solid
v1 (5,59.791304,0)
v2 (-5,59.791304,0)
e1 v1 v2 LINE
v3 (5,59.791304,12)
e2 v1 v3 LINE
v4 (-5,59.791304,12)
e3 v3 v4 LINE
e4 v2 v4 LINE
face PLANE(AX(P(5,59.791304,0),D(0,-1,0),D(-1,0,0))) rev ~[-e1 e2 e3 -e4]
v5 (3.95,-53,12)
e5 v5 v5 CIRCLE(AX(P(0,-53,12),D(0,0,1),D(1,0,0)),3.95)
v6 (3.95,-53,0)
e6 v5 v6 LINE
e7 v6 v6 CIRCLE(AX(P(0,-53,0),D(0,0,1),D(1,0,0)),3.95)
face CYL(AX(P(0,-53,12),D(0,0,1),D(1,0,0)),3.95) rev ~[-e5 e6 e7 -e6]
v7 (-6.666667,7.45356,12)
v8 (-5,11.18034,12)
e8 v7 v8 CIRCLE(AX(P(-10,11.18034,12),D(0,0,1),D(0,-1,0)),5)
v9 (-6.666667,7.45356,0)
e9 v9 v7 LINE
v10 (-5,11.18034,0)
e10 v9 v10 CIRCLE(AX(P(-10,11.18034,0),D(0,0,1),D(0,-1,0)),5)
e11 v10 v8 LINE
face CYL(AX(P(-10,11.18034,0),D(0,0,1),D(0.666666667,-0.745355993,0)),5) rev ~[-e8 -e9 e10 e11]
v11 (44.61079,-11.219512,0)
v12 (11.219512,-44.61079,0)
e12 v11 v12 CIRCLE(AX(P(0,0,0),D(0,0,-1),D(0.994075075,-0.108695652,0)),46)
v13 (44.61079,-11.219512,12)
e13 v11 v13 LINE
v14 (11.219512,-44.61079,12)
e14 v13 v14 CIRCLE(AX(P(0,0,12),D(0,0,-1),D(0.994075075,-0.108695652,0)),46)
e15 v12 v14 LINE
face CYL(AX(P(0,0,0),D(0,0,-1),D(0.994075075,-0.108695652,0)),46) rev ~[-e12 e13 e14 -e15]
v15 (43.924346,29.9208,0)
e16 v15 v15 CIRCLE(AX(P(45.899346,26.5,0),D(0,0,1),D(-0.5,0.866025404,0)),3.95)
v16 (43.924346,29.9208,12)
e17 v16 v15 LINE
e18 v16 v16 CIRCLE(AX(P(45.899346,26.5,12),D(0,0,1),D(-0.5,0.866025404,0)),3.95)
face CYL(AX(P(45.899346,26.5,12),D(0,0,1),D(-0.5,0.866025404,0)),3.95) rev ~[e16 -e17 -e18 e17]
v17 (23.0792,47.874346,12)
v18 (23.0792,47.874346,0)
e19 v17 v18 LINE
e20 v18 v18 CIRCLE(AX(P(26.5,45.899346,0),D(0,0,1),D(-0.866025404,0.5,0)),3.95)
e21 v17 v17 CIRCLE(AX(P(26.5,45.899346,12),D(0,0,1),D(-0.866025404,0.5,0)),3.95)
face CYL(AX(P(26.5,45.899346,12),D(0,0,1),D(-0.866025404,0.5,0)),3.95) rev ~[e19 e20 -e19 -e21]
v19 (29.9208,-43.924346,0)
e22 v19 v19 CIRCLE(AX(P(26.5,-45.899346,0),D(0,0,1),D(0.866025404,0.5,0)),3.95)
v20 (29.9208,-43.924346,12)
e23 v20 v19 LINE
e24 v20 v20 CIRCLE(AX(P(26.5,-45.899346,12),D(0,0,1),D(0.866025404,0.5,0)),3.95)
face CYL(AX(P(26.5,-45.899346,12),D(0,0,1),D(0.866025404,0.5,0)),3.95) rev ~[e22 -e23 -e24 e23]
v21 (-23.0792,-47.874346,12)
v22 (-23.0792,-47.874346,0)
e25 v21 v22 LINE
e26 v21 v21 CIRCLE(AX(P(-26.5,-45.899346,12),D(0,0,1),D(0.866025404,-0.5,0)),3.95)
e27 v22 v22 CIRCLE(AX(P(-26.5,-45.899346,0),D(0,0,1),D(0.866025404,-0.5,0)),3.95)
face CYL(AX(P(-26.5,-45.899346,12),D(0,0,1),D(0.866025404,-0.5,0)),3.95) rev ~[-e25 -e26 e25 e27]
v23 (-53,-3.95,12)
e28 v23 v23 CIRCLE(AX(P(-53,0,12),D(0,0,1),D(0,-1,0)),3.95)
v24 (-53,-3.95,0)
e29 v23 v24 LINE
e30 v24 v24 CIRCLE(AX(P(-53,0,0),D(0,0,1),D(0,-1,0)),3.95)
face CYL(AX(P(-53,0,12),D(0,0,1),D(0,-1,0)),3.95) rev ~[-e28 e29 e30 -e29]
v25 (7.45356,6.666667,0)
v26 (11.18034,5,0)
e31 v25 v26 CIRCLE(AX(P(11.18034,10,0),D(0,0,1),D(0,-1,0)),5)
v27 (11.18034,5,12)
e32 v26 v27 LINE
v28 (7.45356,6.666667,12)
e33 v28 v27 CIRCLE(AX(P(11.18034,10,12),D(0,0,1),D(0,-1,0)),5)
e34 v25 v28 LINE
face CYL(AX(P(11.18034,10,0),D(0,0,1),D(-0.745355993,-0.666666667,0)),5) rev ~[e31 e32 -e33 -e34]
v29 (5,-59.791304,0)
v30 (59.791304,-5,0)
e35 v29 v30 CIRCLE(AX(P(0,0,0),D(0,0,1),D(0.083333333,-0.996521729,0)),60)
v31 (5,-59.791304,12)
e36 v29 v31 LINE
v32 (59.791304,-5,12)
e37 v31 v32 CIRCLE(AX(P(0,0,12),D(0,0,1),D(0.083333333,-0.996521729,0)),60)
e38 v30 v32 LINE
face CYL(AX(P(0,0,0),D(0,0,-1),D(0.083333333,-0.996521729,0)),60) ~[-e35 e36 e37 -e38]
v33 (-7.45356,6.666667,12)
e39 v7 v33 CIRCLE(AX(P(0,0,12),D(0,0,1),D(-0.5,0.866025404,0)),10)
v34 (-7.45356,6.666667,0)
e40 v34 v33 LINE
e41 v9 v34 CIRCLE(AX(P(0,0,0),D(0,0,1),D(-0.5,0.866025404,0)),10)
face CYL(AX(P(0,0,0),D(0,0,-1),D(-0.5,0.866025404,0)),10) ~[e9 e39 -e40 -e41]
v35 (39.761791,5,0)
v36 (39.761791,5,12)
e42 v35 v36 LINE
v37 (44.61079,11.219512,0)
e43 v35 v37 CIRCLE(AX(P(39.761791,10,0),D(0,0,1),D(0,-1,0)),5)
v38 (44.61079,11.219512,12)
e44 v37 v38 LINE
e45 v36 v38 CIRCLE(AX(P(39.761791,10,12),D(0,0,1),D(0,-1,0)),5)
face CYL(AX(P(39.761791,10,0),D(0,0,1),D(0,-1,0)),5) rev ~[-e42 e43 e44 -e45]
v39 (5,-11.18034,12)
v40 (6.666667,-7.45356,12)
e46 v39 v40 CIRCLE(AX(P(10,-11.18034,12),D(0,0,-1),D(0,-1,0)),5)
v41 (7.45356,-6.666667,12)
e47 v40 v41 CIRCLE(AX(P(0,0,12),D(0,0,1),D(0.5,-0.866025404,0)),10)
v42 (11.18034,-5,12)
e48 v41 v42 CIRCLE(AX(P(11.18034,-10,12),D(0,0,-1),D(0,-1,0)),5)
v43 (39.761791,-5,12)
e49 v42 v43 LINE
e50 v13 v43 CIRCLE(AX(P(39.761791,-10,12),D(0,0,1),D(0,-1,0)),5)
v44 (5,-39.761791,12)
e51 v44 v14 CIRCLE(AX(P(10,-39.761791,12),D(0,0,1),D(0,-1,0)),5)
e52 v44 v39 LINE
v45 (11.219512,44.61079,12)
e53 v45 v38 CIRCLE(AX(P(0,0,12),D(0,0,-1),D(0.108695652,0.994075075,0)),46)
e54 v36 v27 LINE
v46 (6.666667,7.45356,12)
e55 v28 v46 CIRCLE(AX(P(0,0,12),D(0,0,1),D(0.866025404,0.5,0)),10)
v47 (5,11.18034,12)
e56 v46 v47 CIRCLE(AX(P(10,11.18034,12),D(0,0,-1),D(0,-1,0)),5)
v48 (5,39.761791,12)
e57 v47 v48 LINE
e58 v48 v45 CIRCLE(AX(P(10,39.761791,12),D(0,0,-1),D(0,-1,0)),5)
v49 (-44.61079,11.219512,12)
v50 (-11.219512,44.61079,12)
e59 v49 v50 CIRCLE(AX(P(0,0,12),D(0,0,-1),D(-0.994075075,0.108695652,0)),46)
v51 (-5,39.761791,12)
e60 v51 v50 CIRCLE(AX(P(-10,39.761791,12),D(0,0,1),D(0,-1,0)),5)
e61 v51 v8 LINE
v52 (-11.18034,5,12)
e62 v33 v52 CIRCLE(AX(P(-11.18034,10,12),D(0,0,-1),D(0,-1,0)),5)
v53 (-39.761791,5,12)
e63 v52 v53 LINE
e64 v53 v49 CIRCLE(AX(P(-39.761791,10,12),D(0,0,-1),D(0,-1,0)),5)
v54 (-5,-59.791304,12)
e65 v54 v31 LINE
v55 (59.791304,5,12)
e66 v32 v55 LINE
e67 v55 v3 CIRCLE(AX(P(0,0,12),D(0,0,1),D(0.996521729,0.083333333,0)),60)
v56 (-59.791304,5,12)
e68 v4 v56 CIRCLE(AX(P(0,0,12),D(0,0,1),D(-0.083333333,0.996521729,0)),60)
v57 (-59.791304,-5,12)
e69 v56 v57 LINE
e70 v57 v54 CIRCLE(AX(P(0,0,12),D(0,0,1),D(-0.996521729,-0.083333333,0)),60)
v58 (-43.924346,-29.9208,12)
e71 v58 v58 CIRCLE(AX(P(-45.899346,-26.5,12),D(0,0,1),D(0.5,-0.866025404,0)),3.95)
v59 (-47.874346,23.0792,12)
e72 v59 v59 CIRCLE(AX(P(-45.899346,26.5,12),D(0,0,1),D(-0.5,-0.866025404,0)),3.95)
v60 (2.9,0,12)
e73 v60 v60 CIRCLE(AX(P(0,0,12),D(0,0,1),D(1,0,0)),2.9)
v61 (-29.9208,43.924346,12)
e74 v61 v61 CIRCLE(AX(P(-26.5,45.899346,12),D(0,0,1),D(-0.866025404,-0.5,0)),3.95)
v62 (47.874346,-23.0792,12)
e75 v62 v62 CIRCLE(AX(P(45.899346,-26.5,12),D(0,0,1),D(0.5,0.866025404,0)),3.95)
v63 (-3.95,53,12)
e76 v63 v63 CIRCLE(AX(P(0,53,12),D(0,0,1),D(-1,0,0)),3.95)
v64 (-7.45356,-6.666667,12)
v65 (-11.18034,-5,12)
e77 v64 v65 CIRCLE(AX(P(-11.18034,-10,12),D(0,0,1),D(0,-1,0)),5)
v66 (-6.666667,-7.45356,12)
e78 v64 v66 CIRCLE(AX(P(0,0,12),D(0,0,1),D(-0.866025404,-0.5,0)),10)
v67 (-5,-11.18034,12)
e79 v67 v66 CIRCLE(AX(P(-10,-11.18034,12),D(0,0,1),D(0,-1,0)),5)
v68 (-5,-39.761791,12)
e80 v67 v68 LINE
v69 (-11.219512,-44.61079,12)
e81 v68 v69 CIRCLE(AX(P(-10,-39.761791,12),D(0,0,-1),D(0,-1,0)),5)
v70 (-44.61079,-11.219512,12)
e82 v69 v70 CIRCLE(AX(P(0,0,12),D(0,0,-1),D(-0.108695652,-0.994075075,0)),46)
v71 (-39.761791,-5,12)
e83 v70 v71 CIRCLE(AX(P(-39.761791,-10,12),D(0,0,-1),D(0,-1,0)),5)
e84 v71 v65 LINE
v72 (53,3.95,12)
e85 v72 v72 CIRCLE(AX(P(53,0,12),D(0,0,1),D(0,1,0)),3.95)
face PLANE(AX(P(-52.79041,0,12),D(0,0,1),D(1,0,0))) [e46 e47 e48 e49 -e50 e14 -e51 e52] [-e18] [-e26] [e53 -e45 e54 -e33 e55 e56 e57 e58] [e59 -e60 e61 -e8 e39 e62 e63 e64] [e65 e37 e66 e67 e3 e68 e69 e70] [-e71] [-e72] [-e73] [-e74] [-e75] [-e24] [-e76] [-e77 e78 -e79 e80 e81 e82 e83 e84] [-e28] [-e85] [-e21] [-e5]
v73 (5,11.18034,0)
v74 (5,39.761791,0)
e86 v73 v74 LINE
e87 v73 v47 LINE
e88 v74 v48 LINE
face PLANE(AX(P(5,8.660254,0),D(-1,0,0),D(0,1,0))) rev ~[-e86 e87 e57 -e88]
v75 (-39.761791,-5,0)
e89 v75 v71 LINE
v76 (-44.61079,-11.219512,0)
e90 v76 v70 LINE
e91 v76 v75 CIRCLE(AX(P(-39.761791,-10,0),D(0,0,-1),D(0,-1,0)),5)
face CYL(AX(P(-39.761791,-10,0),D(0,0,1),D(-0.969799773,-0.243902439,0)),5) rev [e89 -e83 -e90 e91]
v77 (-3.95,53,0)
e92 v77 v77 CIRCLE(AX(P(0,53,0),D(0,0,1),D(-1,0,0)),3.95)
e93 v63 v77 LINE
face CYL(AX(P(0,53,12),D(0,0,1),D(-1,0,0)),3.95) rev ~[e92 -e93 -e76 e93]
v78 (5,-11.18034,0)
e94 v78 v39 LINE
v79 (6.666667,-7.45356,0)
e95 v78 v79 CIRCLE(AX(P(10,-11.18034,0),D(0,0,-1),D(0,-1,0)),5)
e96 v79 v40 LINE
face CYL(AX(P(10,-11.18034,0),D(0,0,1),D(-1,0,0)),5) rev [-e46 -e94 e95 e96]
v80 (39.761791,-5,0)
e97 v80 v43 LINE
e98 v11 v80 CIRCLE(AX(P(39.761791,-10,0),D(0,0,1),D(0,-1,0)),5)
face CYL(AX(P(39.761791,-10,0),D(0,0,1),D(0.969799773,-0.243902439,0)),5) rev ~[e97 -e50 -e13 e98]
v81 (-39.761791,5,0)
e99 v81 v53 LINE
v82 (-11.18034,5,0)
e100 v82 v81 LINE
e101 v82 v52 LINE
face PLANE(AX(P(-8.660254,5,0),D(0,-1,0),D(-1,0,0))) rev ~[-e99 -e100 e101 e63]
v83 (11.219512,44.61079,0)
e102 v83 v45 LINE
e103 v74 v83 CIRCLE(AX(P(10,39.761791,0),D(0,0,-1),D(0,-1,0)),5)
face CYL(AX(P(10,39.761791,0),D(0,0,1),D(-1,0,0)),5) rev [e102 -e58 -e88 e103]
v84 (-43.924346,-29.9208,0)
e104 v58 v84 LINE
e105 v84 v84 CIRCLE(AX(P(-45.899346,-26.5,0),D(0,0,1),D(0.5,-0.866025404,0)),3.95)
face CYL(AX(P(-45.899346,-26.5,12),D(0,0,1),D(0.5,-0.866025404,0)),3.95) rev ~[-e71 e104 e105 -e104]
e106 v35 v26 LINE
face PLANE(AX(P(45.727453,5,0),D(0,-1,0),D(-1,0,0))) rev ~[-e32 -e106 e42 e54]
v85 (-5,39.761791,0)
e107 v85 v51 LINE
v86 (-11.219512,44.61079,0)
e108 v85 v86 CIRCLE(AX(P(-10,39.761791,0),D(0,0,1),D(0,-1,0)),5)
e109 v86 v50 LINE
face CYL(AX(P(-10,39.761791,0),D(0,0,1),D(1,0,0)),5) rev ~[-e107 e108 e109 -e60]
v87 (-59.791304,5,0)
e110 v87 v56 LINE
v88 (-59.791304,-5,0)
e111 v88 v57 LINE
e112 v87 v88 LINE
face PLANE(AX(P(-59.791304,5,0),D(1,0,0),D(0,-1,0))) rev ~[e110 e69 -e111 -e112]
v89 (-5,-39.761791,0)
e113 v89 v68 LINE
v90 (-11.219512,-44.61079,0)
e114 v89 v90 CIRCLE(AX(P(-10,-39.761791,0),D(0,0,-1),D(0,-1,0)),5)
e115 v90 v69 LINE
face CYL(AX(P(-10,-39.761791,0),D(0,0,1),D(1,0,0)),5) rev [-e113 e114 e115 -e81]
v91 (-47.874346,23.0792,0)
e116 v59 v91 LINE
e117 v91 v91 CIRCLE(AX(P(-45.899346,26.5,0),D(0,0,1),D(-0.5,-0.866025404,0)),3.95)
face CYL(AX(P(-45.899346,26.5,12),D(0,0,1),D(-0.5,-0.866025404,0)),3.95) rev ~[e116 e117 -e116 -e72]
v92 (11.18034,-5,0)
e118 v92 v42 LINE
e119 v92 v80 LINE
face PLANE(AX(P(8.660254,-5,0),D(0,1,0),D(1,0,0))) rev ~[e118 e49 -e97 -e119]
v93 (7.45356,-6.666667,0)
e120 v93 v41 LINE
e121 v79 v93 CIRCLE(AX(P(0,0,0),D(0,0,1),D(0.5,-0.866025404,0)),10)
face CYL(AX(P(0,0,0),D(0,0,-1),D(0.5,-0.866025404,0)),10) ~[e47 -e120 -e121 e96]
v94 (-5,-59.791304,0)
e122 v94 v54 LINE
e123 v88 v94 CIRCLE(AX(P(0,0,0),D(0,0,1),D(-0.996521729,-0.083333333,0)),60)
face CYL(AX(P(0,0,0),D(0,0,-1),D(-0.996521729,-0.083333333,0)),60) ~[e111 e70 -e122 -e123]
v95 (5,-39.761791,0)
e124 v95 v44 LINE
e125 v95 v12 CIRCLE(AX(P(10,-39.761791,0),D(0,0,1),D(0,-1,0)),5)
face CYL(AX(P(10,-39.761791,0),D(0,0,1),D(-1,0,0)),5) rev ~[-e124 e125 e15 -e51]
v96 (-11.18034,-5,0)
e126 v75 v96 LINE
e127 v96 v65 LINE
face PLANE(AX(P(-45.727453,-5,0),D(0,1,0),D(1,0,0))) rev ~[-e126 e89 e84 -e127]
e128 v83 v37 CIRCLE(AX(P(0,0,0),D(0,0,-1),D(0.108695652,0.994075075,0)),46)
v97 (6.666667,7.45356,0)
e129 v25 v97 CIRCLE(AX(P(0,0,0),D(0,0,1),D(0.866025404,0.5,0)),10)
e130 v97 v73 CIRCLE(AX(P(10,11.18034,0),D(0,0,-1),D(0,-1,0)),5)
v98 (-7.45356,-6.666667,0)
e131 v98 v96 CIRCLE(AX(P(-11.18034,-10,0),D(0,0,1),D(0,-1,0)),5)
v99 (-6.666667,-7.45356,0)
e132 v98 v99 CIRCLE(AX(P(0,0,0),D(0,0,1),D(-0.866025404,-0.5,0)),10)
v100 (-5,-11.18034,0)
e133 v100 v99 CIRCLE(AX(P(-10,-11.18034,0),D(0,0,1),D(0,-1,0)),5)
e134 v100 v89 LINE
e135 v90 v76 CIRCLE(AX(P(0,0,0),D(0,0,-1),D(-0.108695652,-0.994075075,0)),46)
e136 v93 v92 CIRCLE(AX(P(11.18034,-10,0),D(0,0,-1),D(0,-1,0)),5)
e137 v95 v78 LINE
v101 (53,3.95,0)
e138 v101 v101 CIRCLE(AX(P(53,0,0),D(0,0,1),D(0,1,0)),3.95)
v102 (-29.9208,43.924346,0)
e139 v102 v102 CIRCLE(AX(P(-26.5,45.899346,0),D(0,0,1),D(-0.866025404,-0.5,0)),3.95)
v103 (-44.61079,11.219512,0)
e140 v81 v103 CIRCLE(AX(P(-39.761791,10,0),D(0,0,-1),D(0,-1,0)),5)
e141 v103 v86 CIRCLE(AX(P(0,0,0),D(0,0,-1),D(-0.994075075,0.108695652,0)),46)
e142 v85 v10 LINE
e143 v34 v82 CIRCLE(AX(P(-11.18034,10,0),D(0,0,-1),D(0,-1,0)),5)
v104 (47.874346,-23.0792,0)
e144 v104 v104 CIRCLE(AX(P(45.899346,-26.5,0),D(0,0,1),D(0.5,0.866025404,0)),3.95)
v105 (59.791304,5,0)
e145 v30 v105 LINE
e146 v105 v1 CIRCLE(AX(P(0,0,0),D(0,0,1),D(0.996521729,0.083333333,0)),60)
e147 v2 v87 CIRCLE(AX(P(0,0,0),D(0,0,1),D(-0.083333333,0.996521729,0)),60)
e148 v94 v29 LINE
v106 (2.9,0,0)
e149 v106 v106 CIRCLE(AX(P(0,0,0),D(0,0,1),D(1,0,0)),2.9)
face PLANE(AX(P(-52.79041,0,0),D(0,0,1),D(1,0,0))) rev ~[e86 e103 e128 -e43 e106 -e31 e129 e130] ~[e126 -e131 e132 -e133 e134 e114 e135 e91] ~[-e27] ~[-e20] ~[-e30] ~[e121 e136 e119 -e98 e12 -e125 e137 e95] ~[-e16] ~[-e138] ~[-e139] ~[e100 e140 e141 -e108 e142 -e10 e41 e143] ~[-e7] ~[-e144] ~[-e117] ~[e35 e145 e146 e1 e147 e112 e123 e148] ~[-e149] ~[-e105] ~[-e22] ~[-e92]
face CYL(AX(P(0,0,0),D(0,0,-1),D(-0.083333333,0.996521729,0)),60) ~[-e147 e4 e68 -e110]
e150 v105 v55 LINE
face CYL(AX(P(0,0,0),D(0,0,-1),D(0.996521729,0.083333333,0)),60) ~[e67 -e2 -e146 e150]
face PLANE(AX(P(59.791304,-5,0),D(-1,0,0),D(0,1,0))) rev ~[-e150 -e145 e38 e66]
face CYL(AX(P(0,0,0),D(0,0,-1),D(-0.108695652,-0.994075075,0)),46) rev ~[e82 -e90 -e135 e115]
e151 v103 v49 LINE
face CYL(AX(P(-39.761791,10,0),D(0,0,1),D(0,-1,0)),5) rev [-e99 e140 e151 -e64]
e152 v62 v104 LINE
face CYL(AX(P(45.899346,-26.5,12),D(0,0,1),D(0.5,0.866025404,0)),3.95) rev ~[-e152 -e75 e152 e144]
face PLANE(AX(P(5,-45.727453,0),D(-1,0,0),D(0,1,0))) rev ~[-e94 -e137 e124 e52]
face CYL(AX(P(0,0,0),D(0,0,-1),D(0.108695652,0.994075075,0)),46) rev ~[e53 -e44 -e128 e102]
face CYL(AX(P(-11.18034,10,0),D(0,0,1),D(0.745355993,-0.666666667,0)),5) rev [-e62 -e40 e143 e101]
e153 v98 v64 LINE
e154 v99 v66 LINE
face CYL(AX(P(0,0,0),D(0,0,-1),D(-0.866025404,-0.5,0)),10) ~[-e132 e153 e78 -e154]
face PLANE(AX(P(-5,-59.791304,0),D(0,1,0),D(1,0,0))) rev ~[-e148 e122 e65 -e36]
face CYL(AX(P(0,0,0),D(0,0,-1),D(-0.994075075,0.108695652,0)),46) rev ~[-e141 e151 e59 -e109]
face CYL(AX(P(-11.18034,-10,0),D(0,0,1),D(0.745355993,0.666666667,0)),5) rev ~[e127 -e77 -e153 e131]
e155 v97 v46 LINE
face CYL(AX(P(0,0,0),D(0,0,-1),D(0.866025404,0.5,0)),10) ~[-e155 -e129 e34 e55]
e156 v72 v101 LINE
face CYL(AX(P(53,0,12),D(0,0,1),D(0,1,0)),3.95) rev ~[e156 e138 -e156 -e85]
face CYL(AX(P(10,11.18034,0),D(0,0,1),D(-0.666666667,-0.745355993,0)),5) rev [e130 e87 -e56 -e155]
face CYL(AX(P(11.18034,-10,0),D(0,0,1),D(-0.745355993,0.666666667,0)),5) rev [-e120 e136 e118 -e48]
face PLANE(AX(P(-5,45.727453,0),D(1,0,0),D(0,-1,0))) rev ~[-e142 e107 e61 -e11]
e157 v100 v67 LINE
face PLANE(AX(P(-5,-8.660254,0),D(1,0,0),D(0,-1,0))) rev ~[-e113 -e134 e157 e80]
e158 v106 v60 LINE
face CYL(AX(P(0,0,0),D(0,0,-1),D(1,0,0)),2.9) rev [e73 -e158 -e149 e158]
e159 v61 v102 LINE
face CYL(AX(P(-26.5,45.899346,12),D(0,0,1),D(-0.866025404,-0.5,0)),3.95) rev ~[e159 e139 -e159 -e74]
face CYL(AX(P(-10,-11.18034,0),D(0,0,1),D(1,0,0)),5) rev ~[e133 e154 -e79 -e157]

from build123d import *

# Parameters (mm, degrees)
SKIZZE1_W                       = 10
SKIZZE1_H                       = 10
SKIZZE1_R                       = 2.9
AUFSATZ_LINEAR_AUSTRAGEN3_DEPTH = 12
SKIZZE2_R                       = 3.95
SCHNITT_LINEAR_AUSTRAGEN1_DEPTH = 12
KREISMUSTER1_COUNT              = 12
VERRUNDUNG1_R                   = 5


with BuildPart() as part:
    # Skizze1 → Aufsatz-Linear austragen3 (new body)
    with BuildSketch(Plane.XY):
        with BuildLine():
            Line((-59.791303716, 5), (-59.791303716, -5))
            Line((-59.791303716, -5), (-45.727453461, -5))
            ThreePointArc((-45.727453461, -5), (-46, 0), (-45.727453461, 5))
            Line((-45.727453461, 5), (-59.791303716, 5))
        make_face()
        with BuildLine():
            ThreePointArc((-45.727453461, 5), (-46, 0), (-45.727453461, -5))
            Line((-45.727453461, -5), (-8.660254038, -5))
            ThreePointArc((-8.660254038, -5), (-10, 0), (-8.660254038, 5))
            Line((-8.660254038, 5), (-45.727453461, 5))
        make_face()
        with BuildLine():
            Line((8.660254038, -5), (45.727453461, -5))
            ThreePointArc((45.727453461, -5), (45.931812827, -2.503711326), (46, 0))
            ThreePointArc((46, 0), (45.931812827, 2.503711326), (45.727453461, 5))
            Line((45.727453461, 5), (8.660254038, 5))
            ThreePointArc((8.660254038, 5), (9.659258263, 2.588190451), (10, 0))
            ThreePointArc((10, 0), (9.659258263, -2.588190451), (8.660254038, -5))
        make_face()
        Rectangle(SKIZZE1_W, SKIZZE1_H)
        Circle(SKIZZE1_R, mode=Mode.SUBTRACT)
        with BuildLine():
            ThreePointArc((-8.660254038, 5), (-10, 0), (-8.660254038, -5))
            Line((-8.660254038, -5), (-5, -5))
            Line((-5, -5), (-5, 5))
            Line((-5, 5), (-8.660254038, 5))
        make_face()
        with BuildLine():
            ThreePointArc((-5, 8.660254038), (-7.071067812, 7.071067812), (-8.660254038, 5))
            Line((-8.660254038, 5), (-5, 5))
            Line((-5, 5), (-5, 8.660254038))
        make_face()
        with BuildLine():
            Line((-5, 8.660254038), (-5, 5))
            Line((-5, 5), (5, 5))
            Line((5, 5), (5, 8.660254038))
            ThreePointArc((5, 8.660254038), (0, 10), (-5, 8.660254038))
        make_face()
        with BuildLine():
            Line((5, 8.660254038), (5, 5))
            Line((5, 5), (8.660254038, 5))
            ThreePointArc((8.660254038, 5), (7.071067812, 7.071067812), (5, 8.660254038))
        make_face()
        with BuildLine():
            Line((5, 5), (5, -5))
            Line((5, -5), (8.660254038, -5))
            ThreePointArc((8.660254038, -5), (9.659258263, -2.588190451), (10, 0))
            ThreePointArc((10, 0), (9.659258263, 2.588190451), (8.660254038, 5))
            Line((8.660254038, 5), (5, 5))
        make_face()
        with BuildLine():
            Line((45.727453461, -5), (59.791303716, -5))
            Line((59.791303716, -5), (59.791303716, 5))
            Line((59.791303716, 5), (45.727453461, 5))
            ThreePointArc((45.727453461, 5), (45.931812827, 2.503711326), (46, 0))
            ThreePointArc((46, 0), (45.931812827, -2.503711326), (45.727453461, -5))
        make_face()
        with BuildLine():
            ThreePointArc((59.791303716, 5), (42.426406871, 42.426406871), (5, 59.791303716))
            Line((5, 59.791303716), (5, 45.727453461))
            ThreePointArc((5, 45.727453461), (32.526911935, 32.526911935), (45.727453461, 5))
            Line((45.727453461, 5), (59.791303716, 5))
        make_face()
        with BuildLine():
            Line((5, 59.791303716), (-5, 59.791303716))
            Line((-5, 59.791303716), (-5, 45.727453461))
            ThreePointArc((-5, 45.727453461), (0, 46), (5, 45.727453461))
            Line((5, 45.727453461), (5, 59.791303716))
        make_face()
        with BuildLine():
            ThreePointArc((-5, 59.791303716), (-42.426406871, 42.426406871), (-59.791303716, 5))
            Line((-59.791303716, 5), (-45.727453461, 5))
            ThreePointArc((-45.727453461, 5), (-32.526911935, 32.526911935), (-5, 45.727453461))
            Line((-5, 45.727453461), (-5, 59.791303716))
        make_face()
        with BuildLine():
            Line((-5, -8.660254038), (-5, -45.727453461))
            ThreePointArc((-5, -45.727453461), (0, -46), (5, -45.727453461))
            Line((5, -45.727453461), (5, -8.660254038))
            ThreePointArc((5, -8.660254038), (0, -10), (-5, -8.660254038))
        make_face()
        with BuildLine():
            ThreePointArc((5, 45.727453461), (0, 46), (-5, 45.727453461))
            Line((-5, 45.727453461), (-5, 8.660254038))
            ThreePointArc((-5, 8.660254038), (0, 10), (5, 8.660254038))
            Line((5, 8.660254038), (5, 45.727453461))
        make_face()
        with BuildLine():
            Line((-5, -5), (-8.660254038, -5))
            ThreePointArc((-8.660254038, -5), (-7.071067812, -7.071067812), (-5, -8.660254038))
            Line((-5, -8.660254038), (-5, -5))
        make_face()
        with BuildLine():
            Line((5, -5), (-5, -5))
            Line((-5, -5), (-5, -8.660254038))
            ThreePointArc((-5, -8.660254038), (0, -10), (5, -8.660254038))
            Line((5, -8.660254038), (5, -5))
        make_face()
        with BuildLine():
            Line((8.660254038, -5), (5, -5))
            Line((5, -5), (5, -8.660254038))
            ThreePointArc((5, -8.660254038), (7.071067812, -7.071067812), (8.660254038, -5))
        make_face()
        with BuildLine():
            Line((-45.727453461, -5), (-59.791303716, -5))
            ThreePointArc((-59.791303716, -5), (-42.426406871, -42.426406871), (-5, -59.791303716))
            Line((-5, -59.791303716), (-5, -45.727453461))
            ThreePointArc((-5, -45.727453461), (-32.526911935, -32.526911935), (-45.727453461, -5))
        make_face()
        with BuildLine():
            Line((-5, -45.727453461), (-5, -59.791303716))
            Line((-5, -59.791303716), (5, -59.791303716))
            Line((5, -59.791303716), (5, -45.727453461))
            ThreePointArc((5, -45.727453461), (0, -46), (-5, -45.727453461))
        make_face()
        with BuildLine():
            Line((5, -45.727453461), (5, -59.791303716))
            ThreePointArc((5, -59.791303716), (42.426406871, -42.426406871), (59.791303716, -5))
            Line((59.791303716, -5), (45.727453461, -5))
            ThreePointArc((45.727453461, -5), (32.526911935, -32.526911935), (5, -45.727453461))
        make_face()
    extrude(amount=AUFSATZ_LINEAR_AUSTRAGEN3_DEPTH)

    # Skizze2 → Schnitt-Linear austragen1 (cut)
    with BuildSketch(Plane.XY.offset(12)):
        with Locations((0, -53)):
            Circle(SKIZZE2_R)
    schnitt_linear_austragen1 = extrude(amount=-SCHNITT_LINEAR_AUSTRAGEN1_DEPTH, mode=Mode.SUBTRACT)

    # Kreismuster1: Schnitt-Linear austragen1 ×12 about axis
    kreismuster1_axis = Axis((0, 0, 0), (0, 0, 1))
    for i in range(1, KREISMUSTER1_COUNT):
        add(schnitt_linear_austragen1.rotate(kreismuster1_axis, i * 360 / KREISMUSTER1_COUNT), mode=Mode.SUBTRACT)

    # Verrundung1
    verrundung1_edges = [part.edges().sort_by_distance(p)[0] for p in [
        (-8.660254038, -5, 6),
        (-45.727453461, -5, 6),
        (-5, -45.727453461, 6),
        (-5, -8.660254038, 6),
        (-5, 45.727453461, 6),
        (-45.727453461, 5, 6),
        (-8.660254038, 5, 6),
        (-5, 8.660254038, 6),
        (45.727453461, 5, 6),
        (5, 45.727453461, 6),
        (5, 8.660254038, 6),
        (8.660254038, 5, 6),
        (5, -8.660254038, 6),
        (5, -45.727453461, 6),
        (45.727453461, -5, 6),
        (8.660254038, -5, 6),
    ]]
    fillet(verrundung1_edges, radius=VERRUNDUNG1_R)


solid = part.part
